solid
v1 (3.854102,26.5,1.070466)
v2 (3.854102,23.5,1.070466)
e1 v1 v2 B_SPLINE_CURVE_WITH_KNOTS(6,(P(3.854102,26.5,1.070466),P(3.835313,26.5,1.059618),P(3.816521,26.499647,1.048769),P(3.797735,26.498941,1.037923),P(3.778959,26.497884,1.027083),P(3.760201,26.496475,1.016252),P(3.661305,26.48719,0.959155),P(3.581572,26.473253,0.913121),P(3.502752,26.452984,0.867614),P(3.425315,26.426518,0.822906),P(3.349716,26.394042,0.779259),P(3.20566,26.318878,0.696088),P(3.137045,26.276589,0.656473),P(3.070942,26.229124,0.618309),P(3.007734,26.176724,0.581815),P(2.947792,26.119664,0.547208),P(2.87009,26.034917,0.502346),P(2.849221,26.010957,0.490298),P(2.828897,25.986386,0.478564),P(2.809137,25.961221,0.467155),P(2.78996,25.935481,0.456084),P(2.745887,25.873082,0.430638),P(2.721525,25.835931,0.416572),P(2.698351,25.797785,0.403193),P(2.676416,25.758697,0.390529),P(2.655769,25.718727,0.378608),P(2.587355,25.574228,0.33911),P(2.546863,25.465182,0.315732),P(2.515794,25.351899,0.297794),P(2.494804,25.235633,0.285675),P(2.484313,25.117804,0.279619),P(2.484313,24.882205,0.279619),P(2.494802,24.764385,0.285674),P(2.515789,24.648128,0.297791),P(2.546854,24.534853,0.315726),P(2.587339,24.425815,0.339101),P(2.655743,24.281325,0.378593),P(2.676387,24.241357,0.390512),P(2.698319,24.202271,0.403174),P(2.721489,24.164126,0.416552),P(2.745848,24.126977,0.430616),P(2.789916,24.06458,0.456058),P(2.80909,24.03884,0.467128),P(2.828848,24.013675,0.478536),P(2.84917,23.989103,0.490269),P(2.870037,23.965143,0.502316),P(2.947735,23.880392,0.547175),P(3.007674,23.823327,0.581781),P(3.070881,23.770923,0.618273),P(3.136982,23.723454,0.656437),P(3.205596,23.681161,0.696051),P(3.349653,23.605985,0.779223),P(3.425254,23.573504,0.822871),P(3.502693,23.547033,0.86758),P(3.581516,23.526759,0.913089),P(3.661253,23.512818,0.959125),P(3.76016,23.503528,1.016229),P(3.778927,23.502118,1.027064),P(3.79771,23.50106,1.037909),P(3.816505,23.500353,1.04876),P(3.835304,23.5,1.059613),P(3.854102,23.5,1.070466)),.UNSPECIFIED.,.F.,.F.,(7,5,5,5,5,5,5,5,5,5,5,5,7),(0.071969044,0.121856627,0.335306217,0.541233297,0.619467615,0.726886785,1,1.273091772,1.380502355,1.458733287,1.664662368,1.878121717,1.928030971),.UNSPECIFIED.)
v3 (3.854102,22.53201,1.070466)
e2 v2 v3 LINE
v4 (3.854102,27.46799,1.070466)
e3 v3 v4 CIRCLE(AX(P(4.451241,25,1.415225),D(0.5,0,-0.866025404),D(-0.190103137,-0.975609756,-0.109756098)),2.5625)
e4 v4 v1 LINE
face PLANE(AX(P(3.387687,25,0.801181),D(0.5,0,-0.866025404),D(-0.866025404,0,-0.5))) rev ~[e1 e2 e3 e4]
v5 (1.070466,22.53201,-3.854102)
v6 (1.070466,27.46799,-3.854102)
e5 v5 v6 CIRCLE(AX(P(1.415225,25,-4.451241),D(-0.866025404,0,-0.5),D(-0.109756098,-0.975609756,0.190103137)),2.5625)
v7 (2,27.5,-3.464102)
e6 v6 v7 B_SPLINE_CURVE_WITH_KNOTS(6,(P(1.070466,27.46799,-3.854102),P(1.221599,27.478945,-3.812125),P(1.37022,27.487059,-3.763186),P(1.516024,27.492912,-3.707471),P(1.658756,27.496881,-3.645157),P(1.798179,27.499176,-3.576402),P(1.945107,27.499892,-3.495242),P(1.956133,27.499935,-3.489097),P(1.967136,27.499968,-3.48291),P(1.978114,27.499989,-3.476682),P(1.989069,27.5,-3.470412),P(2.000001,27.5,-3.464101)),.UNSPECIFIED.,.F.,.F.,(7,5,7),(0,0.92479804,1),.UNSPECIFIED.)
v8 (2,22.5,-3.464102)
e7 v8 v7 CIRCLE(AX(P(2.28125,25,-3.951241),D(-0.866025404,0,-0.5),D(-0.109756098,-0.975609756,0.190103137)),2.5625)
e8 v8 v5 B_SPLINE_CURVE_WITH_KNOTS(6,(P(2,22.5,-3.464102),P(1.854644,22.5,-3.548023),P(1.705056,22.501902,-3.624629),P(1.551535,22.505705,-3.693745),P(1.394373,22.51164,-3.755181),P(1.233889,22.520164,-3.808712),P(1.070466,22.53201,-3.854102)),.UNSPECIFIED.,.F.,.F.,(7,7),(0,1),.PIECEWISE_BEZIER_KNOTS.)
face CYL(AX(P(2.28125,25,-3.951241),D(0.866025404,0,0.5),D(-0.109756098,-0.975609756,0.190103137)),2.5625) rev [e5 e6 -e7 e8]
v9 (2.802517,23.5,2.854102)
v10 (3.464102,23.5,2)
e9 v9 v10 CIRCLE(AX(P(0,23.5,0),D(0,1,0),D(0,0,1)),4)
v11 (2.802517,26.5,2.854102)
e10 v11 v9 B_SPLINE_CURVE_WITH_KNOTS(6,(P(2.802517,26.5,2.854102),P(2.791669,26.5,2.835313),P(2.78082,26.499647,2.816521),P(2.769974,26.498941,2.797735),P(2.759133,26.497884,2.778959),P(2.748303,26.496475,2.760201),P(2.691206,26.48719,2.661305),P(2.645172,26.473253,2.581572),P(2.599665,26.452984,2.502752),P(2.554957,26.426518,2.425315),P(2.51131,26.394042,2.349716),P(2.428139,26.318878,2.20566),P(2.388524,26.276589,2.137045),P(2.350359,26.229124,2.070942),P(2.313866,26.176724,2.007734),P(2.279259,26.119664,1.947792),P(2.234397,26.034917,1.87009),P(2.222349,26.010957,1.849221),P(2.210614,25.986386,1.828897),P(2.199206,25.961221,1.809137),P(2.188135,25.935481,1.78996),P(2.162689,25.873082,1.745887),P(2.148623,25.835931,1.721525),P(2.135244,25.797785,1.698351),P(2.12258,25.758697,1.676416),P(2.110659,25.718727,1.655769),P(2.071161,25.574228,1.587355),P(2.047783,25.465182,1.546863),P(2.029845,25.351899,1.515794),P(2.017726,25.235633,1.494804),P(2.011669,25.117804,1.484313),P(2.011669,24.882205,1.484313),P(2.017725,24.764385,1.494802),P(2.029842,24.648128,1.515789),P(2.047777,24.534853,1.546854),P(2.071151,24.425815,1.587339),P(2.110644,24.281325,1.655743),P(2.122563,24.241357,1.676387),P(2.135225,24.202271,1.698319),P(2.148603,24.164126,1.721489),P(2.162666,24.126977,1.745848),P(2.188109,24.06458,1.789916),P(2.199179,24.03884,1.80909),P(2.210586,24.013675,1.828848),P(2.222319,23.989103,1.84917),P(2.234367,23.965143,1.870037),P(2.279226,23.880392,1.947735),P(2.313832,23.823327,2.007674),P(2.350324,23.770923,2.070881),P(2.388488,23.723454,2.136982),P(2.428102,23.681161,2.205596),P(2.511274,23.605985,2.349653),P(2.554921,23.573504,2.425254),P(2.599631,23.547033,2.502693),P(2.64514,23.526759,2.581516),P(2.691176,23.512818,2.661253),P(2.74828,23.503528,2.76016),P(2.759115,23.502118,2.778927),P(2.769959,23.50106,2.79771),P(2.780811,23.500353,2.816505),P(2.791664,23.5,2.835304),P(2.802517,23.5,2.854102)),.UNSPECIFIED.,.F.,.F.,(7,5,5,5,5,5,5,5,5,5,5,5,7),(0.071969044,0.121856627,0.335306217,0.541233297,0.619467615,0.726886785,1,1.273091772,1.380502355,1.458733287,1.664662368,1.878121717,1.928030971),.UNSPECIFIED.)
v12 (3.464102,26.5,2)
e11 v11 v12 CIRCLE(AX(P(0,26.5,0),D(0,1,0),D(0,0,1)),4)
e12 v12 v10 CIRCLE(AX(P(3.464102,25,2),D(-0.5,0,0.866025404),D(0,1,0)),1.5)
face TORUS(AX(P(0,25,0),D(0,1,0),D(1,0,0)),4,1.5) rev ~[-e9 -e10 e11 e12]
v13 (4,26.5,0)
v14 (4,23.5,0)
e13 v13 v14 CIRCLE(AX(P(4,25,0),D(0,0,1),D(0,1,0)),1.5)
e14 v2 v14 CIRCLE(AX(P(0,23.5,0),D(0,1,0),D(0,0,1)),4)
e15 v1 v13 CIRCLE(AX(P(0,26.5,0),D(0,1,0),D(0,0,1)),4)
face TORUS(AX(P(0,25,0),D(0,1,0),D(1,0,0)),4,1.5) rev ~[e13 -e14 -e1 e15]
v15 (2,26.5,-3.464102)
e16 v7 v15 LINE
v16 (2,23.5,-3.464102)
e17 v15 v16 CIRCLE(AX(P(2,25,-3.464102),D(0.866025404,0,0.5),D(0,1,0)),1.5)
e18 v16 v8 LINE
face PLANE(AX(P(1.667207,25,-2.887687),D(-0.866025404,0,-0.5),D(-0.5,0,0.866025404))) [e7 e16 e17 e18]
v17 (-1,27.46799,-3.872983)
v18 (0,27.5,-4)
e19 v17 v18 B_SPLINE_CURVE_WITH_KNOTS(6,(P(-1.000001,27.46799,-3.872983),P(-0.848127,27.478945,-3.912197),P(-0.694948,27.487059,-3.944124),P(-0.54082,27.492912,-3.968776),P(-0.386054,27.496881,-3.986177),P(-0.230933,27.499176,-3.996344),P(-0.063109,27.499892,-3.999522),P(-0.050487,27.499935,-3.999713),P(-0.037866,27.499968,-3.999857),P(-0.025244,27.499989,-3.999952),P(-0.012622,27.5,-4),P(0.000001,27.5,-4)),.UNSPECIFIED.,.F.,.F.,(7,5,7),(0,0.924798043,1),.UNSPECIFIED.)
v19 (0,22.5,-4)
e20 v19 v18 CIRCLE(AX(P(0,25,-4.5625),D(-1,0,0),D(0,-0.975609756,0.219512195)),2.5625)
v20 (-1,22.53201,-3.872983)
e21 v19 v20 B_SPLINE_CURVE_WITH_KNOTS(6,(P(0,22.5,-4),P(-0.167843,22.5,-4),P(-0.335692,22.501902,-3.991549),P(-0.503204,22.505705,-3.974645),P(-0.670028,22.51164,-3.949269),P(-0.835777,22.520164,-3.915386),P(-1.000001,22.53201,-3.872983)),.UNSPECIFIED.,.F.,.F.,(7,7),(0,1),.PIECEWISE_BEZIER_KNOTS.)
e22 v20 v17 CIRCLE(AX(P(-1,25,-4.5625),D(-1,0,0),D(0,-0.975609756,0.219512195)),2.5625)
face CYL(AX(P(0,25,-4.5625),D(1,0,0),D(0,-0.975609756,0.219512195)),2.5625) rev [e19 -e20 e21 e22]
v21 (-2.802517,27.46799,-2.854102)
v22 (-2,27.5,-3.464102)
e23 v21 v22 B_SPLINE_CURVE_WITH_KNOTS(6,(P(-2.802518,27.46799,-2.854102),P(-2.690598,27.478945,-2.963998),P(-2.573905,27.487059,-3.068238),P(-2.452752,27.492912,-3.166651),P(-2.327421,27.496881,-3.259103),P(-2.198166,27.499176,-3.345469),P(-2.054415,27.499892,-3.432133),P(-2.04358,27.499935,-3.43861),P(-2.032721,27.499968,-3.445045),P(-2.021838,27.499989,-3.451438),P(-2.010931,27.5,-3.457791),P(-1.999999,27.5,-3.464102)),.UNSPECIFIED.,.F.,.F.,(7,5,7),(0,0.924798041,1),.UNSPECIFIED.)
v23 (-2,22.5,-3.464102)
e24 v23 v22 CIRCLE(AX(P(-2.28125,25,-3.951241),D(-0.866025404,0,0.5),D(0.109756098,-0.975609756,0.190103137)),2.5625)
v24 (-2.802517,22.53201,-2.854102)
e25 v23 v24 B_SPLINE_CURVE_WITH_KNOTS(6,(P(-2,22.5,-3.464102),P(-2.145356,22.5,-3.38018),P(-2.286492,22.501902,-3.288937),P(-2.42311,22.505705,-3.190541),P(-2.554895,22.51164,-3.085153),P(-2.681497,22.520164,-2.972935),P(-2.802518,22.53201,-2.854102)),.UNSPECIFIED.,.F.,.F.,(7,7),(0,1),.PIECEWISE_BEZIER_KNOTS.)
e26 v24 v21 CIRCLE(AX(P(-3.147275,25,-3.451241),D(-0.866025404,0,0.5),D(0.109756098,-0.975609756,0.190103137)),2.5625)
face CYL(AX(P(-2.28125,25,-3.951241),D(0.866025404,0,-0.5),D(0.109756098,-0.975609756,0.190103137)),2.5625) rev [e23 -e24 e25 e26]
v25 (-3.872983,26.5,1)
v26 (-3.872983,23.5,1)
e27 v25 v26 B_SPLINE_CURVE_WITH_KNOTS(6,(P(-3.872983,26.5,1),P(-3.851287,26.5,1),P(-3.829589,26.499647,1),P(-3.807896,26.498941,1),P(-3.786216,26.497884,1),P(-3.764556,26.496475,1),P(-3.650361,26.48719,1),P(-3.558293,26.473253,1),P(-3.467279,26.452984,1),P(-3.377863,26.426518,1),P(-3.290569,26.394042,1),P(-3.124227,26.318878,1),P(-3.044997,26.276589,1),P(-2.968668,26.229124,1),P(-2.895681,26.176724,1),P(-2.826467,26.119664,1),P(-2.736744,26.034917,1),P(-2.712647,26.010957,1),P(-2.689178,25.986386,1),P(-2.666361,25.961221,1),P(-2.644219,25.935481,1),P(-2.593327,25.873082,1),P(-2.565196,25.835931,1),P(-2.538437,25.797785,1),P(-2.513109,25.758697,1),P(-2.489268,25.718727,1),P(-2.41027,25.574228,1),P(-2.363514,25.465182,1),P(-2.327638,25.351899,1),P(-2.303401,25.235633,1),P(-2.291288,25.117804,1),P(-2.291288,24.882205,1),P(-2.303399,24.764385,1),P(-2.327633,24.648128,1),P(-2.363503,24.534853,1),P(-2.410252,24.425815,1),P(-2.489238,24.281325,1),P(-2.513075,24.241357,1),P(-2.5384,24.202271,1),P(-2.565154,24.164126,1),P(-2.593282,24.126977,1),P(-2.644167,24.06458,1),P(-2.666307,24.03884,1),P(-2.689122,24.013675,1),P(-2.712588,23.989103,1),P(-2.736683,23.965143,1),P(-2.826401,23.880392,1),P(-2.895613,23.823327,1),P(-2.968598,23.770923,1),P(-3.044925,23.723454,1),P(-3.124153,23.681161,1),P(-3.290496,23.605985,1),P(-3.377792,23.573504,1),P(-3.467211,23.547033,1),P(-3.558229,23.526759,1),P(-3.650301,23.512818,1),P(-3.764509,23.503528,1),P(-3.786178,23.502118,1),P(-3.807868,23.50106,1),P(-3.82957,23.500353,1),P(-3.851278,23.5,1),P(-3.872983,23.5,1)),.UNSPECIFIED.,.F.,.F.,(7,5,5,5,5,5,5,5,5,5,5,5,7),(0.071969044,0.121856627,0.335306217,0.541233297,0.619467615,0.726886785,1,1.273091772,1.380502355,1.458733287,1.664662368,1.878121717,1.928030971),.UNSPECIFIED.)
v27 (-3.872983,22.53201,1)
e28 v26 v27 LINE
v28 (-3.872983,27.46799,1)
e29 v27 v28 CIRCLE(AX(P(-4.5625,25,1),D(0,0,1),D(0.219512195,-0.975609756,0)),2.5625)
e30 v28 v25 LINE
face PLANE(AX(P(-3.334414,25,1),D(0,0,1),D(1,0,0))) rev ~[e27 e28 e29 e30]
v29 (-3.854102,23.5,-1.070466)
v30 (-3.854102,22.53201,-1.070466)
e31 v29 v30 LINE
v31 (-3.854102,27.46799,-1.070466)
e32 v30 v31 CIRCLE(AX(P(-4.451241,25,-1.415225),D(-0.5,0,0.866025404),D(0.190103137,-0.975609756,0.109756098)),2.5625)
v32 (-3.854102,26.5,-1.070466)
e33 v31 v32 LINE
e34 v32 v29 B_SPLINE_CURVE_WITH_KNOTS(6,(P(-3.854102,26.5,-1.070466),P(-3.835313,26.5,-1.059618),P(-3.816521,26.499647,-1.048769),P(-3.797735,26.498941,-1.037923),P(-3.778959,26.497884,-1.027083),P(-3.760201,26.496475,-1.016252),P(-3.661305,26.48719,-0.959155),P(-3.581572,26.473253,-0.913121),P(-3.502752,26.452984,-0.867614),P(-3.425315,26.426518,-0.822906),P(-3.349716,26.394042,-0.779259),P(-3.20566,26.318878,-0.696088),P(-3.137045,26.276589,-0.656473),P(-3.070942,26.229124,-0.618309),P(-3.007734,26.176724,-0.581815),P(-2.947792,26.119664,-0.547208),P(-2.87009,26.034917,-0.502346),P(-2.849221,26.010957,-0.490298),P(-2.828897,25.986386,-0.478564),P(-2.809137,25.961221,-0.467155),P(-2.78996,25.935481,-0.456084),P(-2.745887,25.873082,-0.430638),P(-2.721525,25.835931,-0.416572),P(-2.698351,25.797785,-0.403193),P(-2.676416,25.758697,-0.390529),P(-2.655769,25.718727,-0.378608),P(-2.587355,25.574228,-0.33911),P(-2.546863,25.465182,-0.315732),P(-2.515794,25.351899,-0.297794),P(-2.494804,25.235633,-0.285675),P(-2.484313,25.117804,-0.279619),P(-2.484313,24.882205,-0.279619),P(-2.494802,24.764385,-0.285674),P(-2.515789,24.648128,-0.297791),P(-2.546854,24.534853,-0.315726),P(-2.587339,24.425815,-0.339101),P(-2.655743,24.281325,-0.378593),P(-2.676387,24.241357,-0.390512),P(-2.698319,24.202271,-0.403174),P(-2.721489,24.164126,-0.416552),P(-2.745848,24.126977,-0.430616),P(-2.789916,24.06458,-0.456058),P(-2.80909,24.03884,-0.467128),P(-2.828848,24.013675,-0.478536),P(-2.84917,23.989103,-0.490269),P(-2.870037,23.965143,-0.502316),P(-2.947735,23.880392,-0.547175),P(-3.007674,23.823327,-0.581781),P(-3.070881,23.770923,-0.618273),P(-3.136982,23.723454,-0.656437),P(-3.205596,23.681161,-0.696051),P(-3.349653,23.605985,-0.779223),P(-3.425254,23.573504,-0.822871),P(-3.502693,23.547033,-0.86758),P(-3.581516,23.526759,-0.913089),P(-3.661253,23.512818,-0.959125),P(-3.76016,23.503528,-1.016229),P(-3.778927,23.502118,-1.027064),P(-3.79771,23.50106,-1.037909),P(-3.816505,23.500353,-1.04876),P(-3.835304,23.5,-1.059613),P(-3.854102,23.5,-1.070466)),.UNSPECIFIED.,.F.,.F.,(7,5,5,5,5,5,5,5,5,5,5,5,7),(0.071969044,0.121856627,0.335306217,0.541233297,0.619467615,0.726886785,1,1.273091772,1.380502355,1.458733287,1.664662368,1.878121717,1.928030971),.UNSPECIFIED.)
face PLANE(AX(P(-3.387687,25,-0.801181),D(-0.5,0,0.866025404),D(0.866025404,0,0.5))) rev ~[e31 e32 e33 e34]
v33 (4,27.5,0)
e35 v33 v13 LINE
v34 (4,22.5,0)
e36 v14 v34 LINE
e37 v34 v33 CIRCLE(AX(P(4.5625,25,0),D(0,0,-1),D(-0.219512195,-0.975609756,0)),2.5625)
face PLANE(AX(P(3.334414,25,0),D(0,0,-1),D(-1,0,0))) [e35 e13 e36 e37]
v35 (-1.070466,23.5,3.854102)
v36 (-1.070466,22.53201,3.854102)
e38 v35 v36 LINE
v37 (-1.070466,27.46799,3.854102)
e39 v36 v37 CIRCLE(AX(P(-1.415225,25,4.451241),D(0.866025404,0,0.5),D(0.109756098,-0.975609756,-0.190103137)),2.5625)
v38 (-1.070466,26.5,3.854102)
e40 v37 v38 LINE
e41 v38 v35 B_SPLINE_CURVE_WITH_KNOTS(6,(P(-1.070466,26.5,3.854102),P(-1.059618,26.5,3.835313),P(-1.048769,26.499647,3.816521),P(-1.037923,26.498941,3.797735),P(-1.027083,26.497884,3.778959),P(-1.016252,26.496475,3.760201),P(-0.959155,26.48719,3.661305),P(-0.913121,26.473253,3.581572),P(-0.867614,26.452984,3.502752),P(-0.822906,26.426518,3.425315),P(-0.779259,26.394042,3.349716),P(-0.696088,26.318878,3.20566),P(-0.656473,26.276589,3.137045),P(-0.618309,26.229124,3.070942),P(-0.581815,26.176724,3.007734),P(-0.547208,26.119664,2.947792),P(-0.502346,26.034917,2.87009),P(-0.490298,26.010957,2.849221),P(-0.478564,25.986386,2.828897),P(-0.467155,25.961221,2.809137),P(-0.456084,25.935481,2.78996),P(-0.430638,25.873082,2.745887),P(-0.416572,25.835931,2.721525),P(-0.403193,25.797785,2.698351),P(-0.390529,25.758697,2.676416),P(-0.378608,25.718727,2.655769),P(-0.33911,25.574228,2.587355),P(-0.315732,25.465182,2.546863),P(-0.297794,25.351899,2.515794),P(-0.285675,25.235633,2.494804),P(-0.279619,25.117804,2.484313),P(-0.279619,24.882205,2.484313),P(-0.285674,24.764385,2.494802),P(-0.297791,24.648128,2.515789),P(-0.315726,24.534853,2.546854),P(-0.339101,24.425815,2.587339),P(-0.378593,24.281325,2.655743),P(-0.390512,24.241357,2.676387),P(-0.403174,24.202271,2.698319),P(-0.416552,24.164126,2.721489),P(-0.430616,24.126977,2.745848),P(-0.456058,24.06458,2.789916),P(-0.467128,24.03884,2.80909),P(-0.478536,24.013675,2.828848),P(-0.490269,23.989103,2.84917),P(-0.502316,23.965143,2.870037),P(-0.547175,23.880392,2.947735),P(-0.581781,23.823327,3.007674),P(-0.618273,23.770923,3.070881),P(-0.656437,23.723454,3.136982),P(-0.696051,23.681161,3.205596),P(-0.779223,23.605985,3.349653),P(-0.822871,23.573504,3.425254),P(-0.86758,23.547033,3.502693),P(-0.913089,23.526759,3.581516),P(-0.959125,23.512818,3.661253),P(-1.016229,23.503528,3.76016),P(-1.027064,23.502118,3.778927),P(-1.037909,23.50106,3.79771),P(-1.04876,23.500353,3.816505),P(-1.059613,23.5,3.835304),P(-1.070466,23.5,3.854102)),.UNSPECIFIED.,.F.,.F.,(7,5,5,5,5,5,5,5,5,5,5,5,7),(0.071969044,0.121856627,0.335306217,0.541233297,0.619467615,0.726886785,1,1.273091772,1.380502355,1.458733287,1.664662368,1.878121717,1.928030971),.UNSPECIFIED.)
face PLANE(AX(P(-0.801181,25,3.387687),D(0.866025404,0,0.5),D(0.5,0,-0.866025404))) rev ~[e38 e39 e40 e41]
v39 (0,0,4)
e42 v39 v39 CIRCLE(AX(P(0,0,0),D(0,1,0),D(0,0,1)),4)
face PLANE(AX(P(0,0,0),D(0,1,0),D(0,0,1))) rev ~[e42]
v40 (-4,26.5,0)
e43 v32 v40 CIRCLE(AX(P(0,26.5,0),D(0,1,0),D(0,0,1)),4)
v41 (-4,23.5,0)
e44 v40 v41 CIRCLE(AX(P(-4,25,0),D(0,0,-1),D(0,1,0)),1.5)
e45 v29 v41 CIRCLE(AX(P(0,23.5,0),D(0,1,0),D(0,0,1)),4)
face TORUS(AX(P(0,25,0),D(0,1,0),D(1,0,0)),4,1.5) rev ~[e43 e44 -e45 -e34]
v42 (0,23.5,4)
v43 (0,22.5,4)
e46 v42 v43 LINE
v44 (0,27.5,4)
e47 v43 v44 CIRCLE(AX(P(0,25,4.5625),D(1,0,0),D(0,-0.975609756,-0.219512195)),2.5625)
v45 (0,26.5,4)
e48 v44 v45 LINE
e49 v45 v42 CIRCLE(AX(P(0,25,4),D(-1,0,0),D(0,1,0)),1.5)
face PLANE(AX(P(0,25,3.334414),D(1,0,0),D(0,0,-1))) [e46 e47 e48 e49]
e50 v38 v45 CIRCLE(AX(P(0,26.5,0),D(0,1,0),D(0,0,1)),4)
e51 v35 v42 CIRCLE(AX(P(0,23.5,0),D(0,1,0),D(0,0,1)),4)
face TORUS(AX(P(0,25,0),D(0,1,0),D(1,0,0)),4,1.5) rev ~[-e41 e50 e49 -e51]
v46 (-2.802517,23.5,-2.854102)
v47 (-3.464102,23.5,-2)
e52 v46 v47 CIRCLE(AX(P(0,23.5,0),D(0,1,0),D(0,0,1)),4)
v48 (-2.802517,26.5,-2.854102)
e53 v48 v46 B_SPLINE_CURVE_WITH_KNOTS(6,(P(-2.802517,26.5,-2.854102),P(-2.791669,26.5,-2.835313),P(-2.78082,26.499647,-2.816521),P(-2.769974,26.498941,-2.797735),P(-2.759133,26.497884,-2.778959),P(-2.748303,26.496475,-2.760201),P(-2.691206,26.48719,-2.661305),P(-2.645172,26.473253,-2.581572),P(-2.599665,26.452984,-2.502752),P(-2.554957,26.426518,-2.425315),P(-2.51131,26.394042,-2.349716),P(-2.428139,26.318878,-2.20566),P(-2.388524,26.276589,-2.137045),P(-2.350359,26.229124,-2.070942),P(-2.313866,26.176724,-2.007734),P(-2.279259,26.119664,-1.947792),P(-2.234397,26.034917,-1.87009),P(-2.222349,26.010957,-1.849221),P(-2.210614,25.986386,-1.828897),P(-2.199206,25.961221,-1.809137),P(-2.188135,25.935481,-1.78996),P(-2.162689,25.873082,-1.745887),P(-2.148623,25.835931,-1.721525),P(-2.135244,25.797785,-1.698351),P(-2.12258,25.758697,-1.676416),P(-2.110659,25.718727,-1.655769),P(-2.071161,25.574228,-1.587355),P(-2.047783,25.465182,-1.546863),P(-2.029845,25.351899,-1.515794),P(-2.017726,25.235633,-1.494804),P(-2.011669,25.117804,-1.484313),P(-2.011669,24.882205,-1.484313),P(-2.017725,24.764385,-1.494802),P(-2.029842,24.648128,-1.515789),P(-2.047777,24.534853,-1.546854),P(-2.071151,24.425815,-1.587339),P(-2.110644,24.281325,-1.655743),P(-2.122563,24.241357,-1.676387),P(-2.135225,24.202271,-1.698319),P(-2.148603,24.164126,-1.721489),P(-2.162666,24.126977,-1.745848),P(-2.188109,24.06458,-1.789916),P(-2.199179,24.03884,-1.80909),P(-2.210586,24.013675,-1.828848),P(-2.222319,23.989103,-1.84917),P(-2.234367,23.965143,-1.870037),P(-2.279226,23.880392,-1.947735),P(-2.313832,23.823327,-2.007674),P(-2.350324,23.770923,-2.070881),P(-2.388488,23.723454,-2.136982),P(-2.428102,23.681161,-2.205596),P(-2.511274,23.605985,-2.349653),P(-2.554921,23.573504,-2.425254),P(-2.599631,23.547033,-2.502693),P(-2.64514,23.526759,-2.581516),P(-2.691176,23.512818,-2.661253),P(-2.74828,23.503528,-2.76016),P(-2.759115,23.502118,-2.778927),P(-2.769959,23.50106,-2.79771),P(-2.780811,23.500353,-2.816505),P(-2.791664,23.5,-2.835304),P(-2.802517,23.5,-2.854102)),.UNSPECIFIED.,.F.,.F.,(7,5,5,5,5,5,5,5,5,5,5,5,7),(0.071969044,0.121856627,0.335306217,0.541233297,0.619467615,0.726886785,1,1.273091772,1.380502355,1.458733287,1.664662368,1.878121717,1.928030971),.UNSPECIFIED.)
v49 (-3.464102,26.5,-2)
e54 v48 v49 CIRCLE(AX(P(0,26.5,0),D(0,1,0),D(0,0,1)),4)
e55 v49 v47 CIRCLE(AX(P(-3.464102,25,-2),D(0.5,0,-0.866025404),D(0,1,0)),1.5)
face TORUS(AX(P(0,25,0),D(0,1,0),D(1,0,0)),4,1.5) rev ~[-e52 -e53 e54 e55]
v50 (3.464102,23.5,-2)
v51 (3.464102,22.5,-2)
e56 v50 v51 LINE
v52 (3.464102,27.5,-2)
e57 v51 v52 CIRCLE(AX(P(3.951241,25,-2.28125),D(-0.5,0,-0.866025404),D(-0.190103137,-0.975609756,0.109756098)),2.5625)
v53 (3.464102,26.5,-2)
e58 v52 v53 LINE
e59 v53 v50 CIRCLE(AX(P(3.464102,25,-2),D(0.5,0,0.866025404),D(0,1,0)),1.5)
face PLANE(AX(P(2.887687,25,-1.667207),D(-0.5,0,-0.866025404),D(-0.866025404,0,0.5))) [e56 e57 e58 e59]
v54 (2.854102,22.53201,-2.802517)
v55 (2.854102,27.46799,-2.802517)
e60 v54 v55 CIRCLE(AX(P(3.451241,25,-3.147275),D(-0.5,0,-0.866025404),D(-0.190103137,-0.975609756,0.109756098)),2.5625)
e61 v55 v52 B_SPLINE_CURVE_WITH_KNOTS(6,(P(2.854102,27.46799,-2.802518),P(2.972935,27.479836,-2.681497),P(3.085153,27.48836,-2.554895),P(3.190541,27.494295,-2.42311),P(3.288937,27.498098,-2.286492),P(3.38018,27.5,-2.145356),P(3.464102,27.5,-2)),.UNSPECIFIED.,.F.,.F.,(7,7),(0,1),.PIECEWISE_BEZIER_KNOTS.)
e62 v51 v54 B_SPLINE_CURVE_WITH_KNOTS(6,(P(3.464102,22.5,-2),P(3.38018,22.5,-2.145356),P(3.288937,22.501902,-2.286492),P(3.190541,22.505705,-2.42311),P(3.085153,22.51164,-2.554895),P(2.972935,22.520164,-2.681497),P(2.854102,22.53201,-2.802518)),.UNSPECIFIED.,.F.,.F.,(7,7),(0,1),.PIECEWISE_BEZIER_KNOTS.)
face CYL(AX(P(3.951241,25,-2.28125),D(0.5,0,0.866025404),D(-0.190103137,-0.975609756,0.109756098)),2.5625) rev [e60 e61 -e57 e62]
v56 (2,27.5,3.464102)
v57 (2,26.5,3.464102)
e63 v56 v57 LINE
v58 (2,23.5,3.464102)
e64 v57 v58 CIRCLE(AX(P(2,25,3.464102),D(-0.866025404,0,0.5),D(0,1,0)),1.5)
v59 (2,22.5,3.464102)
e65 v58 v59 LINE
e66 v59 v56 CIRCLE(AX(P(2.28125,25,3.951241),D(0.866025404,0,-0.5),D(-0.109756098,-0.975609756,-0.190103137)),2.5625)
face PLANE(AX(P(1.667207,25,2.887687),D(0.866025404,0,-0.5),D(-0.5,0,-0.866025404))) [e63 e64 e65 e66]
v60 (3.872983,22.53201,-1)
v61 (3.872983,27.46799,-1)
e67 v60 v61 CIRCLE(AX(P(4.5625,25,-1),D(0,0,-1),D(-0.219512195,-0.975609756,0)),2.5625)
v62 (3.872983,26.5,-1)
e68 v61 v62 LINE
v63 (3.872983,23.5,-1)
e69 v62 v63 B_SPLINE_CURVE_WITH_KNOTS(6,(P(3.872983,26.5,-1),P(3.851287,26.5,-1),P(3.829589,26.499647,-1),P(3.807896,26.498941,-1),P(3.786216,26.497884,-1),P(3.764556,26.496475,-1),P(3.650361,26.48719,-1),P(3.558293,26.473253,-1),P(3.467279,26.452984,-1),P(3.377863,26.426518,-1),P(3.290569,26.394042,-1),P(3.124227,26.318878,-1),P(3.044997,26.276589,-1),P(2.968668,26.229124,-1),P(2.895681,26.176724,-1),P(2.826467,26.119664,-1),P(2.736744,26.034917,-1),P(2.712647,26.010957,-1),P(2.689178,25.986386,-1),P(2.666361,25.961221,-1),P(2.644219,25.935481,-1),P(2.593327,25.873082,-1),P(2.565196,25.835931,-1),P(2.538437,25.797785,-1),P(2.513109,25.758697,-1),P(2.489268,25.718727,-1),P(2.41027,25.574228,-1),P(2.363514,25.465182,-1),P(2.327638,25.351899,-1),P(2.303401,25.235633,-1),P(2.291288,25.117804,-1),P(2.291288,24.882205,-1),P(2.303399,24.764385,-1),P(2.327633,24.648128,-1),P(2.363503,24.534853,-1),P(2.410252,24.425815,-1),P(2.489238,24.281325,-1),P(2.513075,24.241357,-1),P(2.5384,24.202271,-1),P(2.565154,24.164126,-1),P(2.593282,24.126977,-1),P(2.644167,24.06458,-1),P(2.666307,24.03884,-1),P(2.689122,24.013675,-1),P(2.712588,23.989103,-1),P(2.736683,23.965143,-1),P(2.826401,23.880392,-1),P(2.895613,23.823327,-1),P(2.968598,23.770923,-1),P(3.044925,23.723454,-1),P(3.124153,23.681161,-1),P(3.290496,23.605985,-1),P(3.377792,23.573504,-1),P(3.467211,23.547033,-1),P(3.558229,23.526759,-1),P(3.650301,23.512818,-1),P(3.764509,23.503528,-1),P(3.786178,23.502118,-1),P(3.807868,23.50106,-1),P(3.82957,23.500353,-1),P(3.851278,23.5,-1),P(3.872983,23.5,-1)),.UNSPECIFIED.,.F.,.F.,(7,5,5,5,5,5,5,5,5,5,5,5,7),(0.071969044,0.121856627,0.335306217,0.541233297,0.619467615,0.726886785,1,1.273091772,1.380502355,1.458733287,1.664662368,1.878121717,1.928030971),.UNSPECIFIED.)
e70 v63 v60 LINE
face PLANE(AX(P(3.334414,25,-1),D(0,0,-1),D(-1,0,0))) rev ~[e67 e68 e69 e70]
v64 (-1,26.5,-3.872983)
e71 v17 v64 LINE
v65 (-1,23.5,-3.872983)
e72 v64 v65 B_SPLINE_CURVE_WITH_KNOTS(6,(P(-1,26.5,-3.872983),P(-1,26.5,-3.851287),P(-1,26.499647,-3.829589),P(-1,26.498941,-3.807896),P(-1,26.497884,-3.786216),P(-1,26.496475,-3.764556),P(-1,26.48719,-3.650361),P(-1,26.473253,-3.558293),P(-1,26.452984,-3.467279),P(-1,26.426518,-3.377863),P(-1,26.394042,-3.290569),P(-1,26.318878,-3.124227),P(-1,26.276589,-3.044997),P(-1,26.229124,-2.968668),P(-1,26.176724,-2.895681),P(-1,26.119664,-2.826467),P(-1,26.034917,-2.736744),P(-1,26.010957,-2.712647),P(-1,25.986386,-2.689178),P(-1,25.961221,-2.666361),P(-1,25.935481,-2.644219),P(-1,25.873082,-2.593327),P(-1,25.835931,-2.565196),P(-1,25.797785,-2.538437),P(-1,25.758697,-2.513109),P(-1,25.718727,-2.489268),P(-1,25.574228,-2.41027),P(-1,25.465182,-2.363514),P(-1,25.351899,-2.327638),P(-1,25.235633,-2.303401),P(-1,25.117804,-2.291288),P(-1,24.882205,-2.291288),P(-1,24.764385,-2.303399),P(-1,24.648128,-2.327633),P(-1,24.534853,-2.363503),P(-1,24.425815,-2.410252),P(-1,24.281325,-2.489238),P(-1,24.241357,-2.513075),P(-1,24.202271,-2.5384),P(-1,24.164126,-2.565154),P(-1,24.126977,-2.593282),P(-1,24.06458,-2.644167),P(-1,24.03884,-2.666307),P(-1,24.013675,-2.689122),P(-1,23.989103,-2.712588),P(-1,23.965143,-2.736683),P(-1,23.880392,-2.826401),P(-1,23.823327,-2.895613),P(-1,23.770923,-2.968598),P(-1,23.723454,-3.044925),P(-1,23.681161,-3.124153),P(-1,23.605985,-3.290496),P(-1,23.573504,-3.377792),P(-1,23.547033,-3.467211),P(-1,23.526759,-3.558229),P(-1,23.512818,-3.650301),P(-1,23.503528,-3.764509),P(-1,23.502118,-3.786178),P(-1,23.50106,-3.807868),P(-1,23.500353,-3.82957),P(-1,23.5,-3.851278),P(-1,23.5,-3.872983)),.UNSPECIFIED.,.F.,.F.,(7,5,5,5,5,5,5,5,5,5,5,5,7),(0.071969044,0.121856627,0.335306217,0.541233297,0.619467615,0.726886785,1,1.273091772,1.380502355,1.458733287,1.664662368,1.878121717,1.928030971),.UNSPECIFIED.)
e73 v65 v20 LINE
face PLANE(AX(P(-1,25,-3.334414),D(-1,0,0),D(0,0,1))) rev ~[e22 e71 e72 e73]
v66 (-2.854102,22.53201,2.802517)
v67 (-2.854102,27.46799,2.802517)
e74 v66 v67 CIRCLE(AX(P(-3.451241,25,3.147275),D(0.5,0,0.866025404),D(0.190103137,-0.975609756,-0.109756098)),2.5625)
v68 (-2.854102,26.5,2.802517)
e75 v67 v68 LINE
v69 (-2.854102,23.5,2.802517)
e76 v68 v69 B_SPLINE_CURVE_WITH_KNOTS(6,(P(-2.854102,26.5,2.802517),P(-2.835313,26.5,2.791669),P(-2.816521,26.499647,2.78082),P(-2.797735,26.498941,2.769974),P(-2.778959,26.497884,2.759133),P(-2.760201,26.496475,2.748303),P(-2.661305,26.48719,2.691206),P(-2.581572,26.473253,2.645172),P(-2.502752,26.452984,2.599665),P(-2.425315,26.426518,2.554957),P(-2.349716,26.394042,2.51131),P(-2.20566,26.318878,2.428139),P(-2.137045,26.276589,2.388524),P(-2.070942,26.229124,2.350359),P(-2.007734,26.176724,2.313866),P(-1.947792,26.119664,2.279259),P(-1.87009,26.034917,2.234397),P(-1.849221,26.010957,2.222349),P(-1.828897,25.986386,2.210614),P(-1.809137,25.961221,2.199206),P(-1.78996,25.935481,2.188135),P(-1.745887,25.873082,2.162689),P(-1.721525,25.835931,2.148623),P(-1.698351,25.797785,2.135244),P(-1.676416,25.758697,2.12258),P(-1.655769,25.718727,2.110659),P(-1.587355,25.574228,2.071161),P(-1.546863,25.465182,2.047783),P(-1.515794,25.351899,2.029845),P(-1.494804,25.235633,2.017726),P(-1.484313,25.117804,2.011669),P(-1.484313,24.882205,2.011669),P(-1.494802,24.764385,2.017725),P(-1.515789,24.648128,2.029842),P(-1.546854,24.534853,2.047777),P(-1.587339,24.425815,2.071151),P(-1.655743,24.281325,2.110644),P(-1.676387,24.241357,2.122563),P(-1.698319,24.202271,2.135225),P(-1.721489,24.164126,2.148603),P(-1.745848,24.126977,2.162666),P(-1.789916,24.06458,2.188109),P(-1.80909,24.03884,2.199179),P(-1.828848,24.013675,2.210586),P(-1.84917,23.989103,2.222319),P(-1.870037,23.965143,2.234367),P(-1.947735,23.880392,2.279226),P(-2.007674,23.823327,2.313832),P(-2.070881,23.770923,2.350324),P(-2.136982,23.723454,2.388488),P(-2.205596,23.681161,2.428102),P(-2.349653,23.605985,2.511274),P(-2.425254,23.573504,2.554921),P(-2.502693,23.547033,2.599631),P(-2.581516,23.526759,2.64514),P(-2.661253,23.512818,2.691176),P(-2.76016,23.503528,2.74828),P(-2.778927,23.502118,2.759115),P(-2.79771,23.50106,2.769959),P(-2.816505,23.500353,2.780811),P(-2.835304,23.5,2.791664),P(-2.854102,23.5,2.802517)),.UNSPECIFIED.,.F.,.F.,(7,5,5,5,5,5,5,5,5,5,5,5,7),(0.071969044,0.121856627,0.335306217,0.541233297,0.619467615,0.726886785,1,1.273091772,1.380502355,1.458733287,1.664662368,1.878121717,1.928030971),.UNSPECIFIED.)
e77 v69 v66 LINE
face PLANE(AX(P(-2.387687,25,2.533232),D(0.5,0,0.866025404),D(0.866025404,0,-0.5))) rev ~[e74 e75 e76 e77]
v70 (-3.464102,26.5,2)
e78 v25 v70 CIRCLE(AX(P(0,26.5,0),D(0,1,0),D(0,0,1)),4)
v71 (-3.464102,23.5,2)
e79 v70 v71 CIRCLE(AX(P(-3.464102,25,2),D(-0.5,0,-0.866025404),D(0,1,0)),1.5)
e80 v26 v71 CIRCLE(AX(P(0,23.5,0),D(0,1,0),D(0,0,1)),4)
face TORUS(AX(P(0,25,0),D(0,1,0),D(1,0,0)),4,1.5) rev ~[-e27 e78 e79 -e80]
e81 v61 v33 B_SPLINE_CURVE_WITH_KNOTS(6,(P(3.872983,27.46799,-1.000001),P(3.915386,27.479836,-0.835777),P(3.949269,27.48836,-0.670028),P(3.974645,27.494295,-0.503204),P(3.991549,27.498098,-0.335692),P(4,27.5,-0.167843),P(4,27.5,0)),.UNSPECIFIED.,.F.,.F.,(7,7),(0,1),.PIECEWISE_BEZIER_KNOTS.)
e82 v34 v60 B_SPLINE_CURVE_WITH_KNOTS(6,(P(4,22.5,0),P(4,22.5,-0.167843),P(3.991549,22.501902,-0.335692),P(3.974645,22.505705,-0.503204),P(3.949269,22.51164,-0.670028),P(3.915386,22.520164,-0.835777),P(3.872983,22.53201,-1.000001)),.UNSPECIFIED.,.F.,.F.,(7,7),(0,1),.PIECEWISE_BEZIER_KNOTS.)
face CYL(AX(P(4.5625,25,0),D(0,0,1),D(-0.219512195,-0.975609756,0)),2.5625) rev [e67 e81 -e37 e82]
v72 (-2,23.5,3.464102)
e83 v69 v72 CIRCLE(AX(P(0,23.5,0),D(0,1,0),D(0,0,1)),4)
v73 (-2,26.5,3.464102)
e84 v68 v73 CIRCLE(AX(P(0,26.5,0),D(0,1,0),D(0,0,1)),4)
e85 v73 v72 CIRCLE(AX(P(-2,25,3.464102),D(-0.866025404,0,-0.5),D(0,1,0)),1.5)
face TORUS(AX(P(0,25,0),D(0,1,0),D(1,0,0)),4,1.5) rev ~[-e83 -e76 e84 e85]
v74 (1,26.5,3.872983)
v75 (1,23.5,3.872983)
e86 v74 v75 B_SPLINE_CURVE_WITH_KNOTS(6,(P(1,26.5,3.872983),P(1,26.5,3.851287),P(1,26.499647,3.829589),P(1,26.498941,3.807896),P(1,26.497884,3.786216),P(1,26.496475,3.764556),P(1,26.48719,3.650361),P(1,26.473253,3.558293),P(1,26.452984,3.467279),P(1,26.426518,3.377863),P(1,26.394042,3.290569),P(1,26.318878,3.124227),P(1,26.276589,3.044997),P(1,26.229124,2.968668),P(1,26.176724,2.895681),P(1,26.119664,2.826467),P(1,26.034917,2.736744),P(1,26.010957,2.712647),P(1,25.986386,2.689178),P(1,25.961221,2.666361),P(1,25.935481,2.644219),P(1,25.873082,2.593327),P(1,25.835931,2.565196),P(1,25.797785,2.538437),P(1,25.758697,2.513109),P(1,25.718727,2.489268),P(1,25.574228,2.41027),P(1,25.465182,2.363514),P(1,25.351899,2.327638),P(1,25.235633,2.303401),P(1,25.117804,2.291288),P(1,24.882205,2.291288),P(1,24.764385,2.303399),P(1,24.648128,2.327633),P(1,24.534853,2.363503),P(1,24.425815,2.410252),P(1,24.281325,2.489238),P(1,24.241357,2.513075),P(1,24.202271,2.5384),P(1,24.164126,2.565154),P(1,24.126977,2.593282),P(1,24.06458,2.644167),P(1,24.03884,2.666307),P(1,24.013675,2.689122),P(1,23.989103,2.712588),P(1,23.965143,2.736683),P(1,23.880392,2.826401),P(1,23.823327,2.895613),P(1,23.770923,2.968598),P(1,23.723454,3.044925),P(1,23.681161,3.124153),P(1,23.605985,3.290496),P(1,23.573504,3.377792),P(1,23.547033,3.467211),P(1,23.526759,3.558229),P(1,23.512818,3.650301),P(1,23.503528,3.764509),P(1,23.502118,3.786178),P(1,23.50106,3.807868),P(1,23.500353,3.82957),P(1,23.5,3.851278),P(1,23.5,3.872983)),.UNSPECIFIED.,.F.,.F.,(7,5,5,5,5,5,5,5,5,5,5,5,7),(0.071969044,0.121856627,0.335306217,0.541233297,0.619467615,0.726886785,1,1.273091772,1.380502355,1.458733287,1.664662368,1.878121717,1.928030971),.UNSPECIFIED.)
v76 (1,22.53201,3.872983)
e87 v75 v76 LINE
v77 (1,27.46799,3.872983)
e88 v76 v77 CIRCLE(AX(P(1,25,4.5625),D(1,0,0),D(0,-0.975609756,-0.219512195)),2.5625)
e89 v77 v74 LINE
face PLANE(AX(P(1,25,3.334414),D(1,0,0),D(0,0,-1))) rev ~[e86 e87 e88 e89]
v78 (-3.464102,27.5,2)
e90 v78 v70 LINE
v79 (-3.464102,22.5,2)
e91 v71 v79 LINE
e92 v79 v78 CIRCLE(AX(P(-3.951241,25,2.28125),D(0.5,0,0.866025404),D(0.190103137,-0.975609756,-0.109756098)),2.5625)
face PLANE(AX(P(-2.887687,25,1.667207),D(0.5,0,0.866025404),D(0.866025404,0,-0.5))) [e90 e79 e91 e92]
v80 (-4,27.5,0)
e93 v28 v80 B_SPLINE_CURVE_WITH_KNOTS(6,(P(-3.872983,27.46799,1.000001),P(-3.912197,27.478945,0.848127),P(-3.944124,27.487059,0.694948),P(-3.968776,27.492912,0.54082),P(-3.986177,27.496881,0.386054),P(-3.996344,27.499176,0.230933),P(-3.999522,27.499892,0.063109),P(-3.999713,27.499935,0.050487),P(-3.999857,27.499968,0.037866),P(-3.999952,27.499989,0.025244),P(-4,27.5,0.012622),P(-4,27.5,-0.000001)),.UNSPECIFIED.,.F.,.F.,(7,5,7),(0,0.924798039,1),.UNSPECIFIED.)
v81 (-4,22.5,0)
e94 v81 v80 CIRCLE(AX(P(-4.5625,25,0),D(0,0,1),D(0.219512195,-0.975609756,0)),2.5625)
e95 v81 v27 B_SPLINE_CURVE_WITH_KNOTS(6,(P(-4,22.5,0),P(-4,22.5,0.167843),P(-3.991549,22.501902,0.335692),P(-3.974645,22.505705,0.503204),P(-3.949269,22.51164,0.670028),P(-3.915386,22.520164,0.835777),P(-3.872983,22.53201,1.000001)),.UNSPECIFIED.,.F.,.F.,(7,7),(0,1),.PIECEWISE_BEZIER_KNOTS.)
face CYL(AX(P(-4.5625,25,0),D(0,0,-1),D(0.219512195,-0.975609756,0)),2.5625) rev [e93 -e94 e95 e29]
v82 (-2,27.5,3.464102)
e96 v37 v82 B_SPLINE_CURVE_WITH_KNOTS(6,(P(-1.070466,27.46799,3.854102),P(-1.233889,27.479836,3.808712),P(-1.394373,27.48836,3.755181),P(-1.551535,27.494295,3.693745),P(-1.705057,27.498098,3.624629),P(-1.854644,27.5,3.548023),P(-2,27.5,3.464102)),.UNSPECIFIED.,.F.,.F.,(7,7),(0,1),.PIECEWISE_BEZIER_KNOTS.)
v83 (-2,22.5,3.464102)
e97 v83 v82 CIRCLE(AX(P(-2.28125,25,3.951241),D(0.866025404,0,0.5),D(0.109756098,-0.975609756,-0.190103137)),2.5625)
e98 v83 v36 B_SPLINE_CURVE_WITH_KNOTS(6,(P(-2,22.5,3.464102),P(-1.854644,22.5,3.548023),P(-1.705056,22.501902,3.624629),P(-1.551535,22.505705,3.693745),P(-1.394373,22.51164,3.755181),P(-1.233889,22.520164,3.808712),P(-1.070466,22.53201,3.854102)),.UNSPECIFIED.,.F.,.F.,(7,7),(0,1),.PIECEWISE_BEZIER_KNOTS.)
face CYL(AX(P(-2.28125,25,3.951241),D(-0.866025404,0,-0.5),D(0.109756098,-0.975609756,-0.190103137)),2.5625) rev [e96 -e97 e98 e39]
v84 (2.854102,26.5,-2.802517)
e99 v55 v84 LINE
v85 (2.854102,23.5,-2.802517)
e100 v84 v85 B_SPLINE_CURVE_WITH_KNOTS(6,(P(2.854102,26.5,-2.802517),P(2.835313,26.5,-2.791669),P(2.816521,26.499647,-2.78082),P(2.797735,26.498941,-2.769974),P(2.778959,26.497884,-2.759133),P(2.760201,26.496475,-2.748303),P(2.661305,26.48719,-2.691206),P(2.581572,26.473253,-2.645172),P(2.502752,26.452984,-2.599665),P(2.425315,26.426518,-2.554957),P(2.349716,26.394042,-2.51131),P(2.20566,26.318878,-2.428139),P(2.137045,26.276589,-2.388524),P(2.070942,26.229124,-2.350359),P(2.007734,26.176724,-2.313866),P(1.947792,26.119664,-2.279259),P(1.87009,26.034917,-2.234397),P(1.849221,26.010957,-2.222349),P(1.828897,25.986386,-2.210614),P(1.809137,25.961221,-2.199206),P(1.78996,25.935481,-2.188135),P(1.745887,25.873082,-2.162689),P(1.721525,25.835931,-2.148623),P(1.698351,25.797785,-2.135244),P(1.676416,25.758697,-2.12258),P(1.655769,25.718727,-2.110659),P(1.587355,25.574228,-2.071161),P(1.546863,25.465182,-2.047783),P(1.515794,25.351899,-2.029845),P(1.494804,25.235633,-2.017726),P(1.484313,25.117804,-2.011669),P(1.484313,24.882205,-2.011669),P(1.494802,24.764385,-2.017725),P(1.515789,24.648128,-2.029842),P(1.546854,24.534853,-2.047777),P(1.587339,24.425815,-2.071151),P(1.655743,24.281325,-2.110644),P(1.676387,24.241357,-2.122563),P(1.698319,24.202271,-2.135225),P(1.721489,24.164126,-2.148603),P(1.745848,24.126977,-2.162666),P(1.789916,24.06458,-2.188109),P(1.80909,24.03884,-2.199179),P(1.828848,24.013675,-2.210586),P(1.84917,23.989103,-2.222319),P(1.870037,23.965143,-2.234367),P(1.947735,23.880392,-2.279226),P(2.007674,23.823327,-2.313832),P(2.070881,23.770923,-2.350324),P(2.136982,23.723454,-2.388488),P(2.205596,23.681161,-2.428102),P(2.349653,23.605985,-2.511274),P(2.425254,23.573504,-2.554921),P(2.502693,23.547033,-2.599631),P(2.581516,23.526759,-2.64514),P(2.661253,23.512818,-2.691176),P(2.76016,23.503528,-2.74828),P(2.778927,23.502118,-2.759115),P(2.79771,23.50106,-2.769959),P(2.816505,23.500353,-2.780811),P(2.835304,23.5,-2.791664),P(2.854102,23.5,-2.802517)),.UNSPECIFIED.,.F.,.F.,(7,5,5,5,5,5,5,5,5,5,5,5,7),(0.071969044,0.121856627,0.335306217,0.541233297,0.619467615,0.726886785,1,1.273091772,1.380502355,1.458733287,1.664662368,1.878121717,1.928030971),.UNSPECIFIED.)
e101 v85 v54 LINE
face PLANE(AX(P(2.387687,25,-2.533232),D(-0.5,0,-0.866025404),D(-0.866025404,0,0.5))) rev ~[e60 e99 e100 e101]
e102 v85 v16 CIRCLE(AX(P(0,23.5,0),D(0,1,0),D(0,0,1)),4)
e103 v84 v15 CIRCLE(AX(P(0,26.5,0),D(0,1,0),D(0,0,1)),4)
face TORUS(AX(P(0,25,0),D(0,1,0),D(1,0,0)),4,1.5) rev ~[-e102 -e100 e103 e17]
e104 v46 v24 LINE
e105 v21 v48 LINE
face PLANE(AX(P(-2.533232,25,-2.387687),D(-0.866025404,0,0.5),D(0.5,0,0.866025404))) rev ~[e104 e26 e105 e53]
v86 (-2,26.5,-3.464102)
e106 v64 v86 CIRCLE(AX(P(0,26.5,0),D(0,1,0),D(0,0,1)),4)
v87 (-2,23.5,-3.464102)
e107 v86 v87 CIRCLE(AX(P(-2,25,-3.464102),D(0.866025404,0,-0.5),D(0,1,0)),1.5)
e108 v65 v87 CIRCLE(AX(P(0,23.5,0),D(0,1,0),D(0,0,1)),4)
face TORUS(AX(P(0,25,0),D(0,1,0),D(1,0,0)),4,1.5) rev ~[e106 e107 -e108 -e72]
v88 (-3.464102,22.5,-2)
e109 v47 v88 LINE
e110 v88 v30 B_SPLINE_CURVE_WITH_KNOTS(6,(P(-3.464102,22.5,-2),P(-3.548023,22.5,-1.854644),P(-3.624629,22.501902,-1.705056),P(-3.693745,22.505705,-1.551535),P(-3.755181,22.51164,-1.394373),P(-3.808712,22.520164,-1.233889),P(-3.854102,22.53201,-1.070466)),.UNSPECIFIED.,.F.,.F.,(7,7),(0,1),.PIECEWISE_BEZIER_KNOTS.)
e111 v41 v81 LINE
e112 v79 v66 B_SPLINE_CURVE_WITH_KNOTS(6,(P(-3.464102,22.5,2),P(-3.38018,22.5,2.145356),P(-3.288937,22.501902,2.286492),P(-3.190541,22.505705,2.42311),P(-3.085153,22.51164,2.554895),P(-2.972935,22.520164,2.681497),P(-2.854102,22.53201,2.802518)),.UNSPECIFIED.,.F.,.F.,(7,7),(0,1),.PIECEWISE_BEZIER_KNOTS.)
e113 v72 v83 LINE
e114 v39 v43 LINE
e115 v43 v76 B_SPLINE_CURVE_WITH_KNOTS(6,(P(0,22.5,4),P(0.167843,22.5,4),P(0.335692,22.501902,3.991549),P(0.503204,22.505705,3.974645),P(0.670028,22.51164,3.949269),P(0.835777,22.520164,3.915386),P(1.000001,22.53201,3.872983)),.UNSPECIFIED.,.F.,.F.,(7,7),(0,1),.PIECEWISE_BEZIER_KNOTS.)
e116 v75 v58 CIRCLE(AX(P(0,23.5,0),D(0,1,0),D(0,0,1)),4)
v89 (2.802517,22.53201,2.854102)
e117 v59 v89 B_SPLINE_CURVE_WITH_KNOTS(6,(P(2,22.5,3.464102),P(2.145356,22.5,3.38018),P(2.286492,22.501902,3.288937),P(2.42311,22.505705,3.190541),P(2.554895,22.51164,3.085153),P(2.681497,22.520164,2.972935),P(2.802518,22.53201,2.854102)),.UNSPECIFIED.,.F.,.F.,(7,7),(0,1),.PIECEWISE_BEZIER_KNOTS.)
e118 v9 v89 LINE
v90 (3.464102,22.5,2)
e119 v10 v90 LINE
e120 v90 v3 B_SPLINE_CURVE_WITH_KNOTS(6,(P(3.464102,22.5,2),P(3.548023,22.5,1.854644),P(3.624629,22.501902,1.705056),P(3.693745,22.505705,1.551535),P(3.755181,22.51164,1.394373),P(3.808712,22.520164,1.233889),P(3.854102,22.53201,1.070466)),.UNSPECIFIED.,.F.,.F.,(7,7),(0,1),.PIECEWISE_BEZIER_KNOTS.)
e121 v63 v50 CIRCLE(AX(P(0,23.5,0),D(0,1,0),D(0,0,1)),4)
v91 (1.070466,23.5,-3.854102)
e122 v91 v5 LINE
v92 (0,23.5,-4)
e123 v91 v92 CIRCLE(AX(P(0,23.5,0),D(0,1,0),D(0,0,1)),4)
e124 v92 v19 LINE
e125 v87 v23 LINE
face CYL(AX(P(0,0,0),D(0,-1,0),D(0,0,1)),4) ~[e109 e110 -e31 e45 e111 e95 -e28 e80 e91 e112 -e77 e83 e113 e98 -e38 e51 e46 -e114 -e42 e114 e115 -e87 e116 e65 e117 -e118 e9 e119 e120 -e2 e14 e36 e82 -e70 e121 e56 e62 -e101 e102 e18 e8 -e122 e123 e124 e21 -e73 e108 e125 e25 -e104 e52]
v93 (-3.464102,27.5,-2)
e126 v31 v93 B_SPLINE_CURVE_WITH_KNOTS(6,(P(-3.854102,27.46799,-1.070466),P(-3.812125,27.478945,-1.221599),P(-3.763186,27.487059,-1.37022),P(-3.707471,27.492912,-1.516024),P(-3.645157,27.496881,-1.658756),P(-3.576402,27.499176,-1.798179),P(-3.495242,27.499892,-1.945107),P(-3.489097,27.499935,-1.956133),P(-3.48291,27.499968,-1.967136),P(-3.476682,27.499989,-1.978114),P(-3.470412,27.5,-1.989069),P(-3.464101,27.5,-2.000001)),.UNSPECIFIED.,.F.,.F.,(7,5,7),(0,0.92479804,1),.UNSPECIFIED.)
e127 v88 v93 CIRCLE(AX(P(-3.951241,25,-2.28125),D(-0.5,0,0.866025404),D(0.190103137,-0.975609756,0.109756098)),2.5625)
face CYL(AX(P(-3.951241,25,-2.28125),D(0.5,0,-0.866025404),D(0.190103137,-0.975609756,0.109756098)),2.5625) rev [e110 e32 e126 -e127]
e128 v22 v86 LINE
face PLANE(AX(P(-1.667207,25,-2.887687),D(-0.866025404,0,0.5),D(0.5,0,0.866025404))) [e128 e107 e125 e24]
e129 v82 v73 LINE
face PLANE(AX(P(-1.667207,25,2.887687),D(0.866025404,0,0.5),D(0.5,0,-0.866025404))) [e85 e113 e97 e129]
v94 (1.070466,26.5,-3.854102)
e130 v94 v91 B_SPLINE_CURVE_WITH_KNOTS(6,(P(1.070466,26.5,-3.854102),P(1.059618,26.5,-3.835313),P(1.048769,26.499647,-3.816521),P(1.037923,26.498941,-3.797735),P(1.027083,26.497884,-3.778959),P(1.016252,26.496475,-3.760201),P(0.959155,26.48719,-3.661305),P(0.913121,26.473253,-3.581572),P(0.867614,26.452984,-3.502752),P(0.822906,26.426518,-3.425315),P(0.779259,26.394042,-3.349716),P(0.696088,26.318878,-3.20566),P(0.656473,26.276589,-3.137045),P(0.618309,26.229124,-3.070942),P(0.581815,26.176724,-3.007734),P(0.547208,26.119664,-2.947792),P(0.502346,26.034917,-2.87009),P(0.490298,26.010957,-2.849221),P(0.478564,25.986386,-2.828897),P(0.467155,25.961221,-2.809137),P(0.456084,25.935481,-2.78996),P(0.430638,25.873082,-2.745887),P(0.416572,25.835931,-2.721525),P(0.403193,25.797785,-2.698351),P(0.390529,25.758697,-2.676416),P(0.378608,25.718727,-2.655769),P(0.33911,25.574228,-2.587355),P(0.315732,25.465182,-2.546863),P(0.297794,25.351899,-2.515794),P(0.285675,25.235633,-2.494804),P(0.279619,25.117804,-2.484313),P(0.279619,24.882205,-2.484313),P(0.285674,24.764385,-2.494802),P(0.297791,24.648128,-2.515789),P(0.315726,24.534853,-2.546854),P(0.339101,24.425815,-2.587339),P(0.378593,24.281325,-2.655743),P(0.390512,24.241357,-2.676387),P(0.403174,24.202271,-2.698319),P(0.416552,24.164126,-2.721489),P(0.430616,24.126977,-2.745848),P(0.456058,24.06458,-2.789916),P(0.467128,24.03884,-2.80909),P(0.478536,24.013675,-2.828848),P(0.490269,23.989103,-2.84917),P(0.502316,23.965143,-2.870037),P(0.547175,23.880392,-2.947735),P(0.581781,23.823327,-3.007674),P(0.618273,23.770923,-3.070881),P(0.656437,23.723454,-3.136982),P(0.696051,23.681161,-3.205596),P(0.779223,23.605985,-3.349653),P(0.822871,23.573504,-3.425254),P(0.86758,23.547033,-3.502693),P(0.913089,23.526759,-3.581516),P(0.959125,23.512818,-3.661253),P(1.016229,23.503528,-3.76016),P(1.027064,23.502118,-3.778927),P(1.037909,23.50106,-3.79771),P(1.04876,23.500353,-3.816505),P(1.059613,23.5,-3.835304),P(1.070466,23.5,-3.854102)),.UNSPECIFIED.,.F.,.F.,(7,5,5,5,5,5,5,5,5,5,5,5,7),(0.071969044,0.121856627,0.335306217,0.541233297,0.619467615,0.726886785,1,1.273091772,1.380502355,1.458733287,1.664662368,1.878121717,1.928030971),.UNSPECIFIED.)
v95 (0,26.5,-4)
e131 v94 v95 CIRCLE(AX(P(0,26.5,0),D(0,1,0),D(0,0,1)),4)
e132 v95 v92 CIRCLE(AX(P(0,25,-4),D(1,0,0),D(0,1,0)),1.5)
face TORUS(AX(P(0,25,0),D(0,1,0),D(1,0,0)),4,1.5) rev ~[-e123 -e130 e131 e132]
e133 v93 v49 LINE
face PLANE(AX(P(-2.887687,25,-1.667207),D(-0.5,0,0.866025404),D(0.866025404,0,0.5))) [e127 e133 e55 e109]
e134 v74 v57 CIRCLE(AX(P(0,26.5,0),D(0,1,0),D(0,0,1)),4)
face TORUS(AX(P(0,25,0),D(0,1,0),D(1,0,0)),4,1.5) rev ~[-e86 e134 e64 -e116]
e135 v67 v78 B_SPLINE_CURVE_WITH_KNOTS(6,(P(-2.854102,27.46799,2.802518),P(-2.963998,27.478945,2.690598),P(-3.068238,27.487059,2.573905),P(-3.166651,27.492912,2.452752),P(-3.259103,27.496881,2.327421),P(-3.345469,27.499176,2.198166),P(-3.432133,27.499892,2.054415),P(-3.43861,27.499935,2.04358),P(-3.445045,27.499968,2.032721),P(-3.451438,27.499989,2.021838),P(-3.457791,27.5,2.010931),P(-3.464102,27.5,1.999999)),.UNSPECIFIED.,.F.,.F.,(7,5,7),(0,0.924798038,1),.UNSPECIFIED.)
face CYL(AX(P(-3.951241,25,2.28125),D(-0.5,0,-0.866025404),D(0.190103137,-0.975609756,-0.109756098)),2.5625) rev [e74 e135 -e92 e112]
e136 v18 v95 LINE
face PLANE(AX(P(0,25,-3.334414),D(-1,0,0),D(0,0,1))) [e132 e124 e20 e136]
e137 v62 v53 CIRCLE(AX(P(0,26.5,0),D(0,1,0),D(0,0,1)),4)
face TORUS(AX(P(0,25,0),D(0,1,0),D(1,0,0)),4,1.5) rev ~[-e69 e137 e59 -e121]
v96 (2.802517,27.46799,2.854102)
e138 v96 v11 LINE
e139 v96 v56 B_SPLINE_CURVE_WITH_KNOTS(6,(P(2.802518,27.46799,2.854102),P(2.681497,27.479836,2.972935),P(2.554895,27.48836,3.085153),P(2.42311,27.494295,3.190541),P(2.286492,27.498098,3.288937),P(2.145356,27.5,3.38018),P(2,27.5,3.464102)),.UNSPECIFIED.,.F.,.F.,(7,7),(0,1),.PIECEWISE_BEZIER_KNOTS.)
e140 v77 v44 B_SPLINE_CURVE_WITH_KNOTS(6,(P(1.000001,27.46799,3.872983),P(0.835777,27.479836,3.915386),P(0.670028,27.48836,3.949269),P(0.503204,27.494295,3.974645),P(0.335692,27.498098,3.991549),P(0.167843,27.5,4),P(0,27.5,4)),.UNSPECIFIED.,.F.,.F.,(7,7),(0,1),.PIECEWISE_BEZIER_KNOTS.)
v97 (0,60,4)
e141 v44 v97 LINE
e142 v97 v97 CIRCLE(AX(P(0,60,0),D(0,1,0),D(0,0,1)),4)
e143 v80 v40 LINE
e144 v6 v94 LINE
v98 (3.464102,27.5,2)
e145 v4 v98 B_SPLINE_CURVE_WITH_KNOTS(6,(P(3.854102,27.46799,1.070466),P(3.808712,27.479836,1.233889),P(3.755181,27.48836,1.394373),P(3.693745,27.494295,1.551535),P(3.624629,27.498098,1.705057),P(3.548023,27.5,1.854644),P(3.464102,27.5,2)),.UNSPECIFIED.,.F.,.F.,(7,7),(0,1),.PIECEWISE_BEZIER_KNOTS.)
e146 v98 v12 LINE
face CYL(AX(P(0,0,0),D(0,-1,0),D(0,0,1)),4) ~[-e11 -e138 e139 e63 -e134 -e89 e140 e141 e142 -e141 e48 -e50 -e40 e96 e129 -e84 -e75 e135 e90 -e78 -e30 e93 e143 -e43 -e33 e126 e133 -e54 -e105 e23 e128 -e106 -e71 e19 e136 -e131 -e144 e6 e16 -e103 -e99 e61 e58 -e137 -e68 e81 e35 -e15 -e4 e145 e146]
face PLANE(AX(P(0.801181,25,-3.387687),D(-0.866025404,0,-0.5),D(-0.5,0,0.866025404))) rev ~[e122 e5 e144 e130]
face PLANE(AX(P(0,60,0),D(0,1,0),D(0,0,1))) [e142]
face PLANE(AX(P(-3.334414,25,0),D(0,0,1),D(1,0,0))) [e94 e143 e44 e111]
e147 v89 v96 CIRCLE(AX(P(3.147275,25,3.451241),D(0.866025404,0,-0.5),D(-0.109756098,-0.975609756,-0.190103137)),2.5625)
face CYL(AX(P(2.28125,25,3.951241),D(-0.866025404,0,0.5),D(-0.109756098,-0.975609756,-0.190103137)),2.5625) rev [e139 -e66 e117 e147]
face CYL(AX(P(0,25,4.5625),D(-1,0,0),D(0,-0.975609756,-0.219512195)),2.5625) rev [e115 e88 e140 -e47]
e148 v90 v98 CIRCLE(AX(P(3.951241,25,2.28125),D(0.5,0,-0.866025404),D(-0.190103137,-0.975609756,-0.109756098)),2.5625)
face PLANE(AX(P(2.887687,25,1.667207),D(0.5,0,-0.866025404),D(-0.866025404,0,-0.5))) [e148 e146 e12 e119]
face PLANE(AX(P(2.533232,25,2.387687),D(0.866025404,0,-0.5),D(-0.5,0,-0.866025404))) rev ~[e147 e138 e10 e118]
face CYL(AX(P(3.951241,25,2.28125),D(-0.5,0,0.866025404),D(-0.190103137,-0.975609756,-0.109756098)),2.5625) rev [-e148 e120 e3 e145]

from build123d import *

# Parameters (mm, degrees)
ESQUISSE1_R             = 4
BOSS_EXTRU_1_DEPTH      = 60
ENL_V_MAT_EXTRU_2_DEPTH = 1
R_P_T_PAR_COURBE1_COUNT = 12
ESQUISSE5_R             = 1.5


with BuildPart() as part:
    # Esquisse1 → Boss.-Extru.1 (new body)
    with BuildSketch(Plane(origin=(0, 0, 0), x_dir=(1, 0, 0), z_dir=(0, 1, 0))):
        with Locations(Location((0, 0, 0), (0, 0, 270))):
            Circle(ESQUISSE1_R)
    extrude(amount=BOSS_EXTRU_1_DEPTH)

    # Esquisse4 → Enlèv. mat.-Extru.2 (cut)
    with BuildSketch(Plane.XY):
        with BuildLine():
            Line((4, 27.5), (4, 22.5))
            ThreePointArc((4, 22.5), (2, 25), (4, 27.5))
        make_face()
    enl_v_mat_extru_2 = extrude(amount=-ENL_V_MAT_EXTRU_2_DEPTH, mode=Mode.SUBTRACT)

    # Répét. par courbe1: Enlèv. mat.-Extru.2 ×12 about axis
    r_p_t_par_courbe1_axis = Axis((0, 25, 0), (0, -1, 0))
    for i in range(1, R_P_T_PAR_COURBE1_COUNT):
        add(enl_v_mat_extru_2.rotate(r_p_t_par_courbe1_axis, i * 360 / R_P_T_PAR_COURBE1_COUNT), mode=Mode.SUBTRACT)

    # Enlèvement de matière-Balayage1: sweep along a path in Esquisse3
    with BuildLine(Plane(origin=(0, 25, 0), x_dir=(1, 0, 0), z_dir=(0, 1, 0))) as enl_vement_de_mati_re_balayage1_path:
        CenterArc((0, 0), 4, 0, 360)
    # Esquisse5 → Enlèvement de matière-Balayage1 (sweep, cut)
    with BuildSketch(Plane(origin=(0, 0, 0), x_dir=(0, 0, -1), z_dir=(1, 0, 0))):
        with Locations((-4, 25)):
            Circle(ESQUISSE5_R)
    sweep(path=enl_vement_de_mati_re_balayage1_path.line, mode=Mode.SUBTRACT)


solid = part.part
